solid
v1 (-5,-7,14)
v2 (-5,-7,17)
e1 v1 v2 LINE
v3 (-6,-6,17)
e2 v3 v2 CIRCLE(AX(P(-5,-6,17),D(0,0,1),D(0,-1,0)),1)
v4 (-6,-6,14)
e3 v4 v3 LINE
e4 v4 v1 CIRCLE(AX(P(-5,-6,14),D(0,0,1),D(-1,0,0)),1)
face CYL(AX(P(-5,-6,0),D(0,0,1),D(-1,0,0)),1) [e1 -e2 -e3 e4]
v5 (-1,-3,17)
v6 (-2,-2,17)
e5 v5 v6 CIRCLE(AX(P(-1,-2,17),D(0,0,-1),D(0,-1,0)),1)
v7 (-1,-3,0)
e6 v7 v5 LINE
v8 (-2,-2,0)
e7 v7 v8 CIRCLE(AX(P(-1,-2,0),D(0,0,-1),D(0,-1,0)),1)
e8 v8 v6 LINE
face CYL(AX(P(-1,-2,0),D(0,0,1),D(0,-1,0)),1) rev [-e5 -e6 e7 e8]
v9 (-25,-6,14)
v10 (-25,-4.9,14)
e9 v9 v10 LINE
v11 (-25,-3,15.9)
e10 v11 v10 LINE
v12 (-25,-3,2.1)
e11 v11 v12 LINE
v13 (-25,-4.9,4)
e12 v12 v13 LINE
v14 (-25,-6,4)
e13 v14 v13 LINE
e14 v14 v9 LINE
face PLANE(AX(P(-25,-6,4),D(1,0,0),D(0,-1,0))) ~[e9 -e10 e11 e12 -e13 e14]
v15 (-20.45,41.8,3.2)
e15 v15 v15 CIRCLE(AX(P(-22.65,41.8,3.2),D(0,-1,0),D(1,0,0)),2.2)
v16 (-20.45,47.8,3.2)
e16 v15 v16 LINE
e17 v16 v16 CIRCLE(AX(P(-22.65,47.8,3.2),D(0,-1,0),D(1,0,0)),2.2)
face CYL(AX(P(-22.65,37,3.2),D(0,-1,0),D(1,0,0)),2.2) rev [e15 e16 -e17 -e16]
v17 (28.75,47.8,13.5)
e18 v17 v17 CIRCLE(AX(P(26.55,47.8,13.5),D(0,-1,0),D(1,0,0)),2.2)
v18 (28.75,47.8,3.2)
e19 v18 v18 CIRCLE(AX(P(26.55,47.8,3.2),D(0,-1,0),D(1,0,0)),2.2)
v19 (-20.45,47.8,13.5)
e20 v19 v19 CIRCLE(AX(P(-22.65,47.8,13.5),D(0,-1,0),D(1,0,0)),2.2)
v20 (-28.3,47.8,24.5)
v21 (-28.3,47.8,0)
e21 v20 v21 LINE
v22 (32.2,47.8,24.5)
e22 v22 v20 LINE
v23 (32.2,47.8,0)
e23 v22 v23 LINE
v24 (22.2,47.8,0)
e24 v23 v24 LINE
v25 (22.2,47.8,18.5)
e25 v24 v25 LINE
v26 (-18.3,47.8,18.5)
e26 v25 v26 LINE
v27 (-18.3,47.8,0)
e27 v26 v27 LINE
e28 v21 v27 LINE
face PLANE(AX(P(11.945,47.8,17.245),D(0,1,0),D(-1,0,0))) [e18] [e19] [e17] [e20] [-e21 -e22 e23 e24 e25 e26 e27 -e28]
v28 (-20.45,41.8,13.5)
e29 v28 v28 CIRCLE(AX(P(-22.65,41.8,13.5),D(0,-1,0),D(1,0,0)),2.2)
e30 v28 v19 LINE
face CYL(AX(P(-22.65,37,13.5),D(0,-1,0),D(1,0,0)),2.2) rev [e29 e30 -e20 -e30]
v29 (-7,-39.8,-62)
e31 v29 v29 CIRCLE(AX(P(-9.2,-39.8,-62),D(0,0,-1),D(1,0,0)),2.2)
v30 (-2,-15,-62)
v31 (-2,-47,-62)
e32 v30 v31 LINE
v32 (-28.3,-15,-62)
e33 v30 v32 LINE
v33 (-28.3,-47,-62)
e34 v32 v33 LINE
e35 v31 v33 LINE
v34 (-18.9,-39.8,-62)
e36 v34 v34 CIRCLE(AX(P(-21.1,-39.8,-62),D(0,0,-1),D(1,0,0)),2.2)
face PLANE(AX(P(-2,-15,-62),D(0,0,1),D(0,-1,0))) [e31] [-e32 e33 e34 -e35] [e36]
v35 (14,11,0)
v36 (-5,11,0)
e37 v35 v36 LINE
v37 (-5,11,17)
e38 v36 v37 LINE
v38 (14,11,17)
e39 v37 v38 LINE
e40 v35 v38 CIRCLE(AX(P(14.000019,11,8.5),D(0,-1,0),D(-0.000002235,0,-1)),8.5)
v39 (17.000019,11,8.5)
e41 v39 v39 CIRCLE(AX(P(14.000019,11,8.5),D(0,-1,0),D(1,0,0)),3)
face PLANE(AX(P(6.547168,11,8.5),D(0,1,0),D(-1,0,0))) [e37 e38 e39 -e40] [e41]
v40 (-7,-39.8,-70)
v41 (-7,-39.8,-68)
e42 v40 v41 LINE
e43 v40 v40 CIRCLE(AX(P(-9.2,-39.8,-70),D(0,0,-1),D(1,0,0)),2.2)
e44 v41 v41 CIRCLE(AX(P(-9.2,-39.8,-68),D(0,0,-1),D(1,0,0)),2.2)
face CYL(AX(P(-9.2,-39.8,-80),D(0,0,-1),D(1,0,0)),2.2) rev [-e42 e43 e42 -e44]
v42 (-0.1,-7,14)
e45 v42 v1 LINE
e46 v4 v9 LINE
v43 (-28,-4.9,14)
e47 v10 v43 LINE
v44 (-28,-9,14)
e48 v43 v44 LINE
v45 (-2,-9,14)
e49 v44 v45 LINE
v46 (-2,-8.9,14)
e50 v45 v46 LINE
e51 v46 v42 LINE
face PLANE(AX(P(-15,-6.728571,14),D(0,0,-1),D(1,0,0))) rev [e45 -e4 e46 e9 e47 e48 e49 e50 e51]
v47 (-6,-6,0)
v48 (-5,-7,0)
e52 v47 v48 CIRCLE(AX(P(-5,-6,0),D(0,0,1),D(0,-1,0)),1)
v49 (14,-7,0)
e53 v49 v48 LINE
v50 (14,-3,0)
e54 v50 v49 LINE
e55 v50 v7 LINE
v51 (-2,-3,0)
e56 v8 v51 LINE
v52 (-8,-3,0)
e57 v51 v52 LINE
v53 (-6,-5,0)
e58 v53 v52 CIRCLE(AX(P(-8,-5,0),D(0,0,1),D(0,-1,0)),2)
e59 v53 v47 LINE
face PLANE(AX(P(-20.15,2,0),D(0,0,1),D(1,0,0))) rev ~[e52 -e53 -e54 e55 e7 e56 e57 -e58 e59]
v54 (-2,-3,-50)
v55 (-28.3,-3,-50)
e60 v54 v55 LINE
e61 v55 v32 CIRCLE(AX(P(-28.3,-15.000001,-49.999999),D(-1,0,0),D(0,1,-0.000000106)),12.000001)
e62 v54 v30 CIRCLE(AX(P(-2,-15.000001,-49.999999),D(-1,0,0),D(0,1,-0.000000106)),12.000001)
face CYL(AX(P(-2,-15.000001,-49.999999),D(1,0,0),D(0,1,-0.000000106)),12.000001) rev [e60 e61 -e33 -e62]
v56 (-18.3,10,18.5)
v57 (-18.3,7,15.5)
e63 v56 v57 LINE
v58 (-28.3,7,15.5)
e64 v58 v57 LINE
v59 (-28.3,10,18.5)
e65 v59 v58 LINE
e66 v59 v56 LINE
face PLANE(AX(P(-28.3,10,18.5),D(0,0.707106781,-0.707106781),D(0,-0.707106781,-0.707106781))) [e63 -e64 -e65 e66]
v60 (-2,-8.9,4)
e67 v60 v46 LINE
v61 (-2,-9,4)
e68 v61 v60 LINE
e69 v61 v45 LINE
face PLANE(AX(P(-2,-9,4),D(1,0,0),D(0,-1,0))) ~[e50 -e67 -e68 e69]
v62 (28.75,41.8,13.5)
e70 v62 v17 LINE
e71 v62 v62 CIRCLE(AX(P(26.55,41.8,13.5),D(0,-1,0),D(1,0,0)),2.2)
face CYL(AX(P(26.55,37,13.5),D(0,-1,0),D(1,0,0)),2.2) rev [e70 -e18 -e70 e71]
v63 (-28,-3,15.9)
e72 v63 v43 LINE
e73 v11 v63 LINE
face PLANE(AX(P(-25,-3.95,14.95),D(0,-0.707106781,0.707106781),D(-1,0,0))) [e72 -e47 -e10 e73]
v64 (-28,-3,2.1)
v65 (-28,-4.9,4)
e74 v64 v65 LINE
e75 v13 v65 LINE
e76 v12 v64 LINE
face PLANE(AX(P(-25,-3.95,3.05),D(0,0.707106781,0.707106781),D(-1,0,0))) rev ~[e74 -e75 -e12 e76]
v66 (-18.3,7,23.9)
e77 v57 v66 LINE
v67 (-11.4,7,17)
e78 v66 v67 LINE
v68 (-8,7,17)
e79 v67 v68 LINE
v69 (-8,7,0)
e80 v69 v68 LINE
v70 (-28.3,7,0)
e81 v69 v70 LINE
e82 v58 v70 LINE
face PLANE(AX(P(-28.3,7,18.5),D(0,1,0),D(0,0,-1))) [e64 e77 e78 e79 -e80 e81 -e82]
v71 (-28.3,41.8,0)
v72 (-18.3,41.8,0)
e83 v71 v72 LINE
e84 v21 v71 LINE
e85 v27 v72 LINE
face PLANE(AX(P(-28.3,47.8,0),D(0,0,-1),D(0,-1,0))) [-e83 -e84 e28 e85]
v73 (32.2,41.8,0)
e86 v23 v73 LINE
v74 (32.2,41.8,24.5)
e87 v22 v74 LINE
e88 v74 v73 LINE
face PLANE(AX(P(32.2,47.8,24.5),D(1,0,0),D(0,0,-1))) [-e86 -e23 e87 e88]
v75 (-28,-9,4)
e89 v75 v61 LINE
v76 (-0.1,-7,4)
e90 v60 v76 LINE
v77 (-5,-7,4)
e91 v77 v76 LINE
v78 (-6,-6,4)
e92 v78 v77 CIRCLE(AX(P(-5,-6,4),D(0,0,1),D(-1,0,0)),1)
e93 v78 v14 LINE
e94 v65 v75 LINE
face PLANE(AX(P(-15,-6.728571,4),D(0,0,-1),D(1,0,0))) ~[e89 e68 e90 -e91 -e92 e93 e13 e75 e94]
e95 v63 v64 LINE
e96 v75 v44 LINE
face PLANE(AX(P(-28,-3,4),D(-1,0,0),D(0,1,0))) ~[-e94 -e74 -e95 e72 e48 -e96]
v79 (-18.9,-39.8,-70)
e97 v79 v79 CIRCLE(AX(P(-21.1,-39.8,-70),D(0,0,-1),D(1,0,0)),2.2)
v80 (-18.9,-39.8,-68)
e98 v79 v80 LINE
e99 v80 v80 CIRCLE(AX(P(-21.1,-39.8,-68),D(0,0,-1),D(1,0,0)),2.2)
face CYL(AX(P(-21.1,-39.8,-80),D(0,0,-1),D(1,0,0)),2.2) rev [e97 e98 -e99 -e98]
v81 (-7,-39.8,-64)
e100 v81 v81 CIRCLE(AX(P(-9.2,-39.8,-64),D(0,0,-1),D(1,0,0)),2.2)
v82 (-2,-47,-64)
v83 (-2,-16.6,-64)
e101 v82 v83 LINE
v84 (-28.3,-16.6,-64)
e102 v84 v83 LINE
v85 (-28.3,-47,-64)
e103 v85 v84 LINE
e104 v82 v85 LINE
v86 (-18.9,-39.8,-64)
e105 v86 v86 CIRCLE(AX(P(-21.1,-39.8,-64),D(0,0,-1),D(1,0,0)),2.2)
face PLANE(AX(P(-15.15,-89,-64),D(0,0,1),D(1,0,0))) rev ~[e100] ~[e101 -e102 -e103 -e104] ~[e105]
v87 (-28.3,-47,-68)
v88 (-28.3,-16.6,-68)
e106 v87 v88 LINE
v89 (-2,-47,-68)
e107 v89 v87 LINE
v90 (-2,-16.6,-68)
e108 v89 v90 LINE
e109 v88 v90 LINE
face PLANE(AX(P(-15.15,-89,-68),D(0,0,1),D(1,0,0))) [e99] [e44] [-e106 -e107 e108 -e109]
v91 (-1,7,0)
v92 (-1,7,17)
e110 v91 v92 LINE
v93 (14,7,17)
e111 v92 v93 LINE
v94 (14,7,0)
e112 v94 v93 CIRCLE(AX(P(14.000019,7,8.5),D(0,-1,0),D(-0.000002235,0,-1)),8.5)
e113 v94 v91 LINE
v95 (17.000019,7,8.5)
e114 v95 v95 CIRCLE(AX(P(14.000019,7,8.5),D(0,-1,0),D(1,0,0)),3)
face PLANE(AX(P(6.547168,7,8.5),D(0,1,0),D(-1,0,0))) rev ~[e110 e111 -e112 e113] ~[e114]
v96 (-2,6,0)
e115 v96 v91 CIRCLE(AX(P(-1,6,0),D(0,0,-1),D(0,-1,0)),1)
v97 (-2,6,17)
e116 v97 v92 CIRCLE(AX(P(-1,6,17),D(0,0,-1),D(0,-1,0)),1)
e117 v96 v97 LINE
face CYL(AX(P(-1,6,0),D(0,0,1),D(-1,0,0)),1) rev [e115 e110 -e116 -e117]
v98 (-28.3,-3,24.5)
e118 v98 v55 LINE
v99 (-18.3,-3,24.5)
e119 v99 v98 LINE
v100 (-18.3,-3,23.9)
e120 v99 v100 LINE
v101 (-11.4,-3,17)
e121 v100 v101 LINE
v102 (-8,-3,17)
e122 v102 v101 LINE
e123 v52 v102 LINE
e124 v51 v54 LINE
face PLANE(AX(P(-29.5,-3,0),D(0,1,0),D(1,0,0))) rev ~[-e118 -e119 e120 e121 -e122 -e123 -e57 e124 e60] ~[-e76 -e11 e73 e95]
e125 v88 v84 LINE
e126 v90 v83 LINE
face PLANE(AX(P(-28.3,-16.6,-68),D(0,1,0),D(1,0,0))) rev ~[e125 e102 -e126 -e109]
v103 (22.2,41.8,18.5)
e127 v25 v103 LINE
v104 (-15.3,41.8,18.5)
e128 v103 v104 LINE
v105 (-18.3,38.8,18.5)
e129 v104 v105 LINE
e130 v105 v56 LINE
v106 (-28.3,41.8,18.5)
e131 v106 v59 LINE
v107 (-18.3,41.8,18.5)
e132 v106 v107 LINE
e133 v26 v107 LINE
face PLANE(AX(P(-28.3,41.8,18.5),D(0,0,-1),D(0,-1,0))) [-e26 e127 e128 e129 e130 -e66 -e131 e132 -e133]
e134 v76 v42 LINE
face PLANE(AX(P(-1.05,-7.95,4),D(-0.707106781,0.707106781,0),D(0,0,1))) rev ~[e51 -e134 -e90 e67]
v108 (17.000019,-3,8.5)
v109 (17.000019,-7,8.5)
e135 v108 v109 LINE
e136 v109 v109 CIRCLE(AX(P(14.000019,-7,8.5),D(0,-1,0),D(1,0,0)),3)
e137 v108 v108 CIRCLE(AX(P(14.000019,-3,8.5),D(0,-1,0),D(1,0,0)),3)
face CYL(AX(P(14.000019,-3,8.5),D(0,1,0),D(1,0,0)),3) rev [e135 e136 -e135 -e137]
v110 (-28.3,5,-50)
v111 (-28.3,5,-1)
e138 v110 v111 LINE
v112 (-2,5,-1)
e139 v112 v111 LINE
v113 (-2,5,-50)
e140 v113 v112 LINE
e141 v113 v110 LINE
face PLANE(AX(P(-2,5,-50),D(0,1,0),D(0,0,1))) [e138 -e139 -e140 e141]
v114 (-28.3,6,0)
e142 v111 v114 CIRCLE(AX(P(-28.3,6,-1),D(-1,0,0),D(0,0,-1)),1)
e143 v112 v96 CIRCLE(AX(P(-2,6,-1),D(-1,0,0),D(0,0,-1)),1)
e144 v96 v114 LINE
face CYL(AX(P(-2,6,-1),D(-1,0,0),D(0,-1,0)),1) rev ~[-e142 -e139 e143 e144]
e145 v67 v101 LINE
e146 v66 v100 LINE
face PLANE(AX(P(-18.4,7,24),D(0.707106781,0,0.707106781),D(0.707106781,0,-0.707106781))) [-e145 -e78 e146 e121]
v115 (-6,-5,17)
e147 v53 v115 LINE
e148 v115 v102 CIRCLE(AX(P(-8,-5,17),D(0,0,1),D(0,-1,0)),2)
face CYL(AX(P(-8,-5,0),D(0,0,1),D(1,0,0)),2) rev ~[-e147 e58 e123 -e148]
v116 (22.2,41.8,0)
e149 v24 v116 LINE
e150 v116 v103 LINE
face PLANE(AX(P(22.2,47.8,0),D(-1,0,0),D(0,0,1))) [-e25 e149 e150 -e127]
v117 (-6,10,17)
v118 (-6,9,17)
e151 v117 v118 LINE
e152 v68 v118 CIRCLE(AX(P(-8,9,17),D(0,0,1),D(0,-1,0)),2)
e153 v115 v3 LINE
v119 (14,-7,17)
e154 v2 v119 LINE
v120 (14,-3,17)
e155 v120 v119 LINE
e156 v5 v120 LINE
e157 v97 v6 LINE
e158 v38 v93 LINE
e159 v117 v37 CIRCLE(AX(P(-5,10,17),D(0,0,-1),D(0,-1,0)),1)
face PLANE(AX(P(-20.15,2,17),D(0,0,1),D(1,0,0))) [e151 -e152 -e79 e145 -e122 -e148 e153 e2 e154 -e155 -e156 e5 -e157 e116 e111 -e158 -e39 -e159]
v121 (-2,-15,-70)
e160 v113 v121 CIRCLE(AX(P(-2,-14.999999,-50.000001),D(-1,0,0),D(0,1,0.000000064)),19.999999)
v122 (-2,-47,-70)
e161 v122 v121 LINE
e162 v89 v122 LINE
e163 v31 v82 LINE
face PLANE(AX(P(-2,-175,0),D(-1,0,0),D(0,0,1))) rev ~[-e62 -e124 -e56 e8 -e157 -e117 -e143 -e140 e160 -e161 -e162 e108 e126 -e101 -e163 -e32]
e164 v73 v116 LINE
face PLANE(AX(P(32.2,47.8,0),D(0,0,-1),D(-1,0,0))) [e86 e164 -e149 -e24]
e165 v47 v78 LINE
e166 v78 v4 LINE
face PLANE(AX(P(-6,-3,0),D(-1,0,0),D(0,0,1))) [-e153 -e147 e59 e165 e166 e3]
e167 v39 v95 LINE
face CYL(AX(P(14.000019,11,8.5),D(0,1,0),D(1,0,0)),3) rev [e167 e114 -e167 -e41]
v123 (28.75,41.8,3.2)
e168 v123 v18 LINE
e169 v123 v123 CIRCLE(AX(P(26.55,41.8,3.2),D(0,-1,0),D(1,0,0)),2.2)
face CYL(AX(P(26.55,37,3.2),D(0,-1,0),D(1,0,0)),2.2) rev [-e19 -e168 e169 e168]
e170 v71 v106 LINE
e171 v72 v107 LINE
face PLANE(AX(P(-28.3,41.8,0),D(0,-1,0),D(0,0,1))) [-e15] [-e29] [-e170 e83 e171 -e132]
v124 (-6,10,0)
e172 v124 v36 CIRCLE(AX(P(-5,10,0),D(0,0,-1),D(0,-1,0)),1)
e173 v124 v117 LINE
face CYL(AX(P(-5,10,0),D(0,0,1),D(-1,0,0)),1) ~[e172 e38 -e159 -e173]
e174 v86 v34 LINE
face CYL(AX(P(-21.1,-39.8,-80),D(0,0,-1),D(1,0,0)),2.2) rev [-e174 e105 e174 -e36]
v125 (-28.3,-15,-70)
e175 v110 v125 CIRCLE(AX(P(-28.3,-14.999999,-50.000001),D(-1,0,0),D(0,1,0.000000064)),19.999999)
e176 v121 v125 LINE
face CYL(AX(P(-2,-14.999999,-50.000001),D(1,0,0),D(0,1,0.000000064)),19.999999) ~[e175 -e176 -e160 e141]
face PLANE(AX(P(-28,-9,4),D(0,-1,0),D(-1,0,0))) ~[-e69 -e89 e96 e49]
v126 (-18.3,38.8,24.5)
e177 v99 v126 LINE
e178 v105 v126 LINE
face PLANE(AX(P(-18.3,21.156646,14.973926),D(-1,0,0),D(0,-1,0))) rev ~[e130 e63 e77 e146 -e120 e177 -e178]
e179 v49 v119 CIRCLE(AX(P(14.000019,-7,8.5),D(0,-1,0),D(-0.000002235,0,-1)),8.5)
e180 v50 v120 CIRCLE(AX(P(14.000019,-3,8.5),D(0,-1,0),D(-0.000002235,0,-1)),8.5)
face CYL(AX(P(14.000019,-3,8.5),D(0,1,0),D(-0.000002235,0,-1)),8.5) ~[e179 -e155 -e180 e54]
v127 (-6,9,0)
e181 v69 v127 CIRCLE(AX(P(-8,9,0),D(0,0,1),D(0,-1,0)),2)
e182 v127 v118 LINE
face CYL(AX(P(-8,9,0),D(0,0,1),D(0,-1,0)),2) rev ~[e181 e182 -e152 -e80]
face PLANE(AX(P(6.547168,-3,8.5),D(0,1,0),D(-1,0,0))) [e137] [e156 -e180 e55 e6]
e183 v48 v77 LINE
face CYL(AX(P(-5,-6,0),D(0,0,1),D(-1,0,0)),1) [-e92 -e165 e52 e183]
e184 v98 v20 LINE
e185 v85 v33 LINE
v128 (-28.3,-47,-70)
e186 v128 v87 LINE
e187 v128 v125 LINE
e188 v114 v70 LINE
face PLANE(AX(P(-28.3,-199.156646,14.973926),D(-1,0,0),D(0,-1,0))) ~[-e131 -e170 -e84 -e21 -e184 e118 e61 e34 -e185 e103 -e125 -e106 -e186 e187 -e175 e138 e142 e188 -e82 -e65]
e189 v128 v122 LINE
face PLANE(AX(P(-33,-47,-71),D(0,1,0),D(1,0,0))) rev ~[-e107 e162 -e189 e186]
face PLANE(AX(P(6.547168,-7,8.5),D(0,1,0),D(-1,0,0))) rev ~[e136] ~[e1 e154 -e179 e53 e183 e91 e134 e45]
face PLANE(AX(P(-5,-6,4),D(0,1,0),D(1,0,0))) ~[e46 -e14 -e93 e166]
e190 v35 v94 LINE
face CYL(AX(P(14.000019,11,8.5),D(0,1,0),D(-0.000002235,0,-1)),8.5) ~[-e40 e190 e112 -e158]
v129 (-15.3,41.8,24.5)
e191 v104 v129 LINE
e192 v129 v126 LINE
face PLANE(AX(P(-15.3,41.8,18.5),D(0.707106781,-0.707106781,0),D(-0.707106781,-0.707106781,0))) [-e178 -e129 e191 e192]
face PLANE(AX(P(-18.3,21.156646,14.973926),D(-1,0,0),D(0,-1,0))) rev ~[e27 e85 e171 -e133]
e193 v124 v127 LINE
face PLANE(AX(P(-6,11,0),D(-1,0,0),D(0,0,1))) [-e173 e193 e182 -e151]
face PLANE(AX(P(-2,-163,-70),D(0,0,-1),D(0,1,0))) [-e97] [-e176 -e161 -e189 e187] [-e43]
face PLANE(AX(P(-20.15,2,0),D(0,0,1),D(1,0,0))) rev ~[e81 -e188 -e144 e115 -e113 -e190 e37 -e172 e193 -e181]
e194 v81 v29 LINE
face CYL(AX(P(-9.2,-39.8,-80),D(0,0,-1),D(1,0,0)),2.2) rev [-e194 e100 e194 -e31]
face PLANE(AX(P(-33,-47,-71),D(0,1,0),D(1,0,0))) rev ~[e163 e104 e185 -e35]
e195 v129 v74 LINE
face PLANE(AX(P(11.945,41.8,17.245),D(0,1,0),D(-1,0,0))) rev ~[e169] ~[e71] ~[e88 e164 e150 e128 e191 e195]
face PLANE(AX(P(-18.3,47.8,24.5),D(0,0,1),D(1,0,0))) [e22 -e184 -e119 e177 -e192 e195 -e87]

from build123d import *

# Parameters (mm, degrees)
CYLINDER034_R          = 2.2
CYLINDER034_DEPTH      = 26
ARRAY008_X_COUNT       = 2
ARRAY008_X_PITCH       = 11.9
BOX039_W               = 26.3
BOX039_H               = 84
BOX039_DEPTH           = 8
BOX038_W               = 26.3
BOX038_H               = 144.8
BOX038_DEPTH           = 4
PAD047_DEPTH           = 10
PAD048_DEPTH           = 6
BOX037_W               = 80
BOX037_H               = 100
BOX037_DEPTH           = 100
BOX036_W               = 40
BOX036_H               = 84
BOX036_DEPTH           = 10
PAD033_DEPTH           = 10
PAD032_DEPTH           = 10
BOX026_W               = 12
BOX026_H               = 10
BOX026_DEPTH           = 30
CYLINDER020_R          = 2.2
CYLINDER020_DEPTH      = 18
CYLINDER020_ROLL_ANGLE = -90
ARRAY006_X_COUNT       = 2
ARRAY006_X_PITCH       = 49.2
ARRAY006_Z_COUNT       = 2
ARRAY006_Z_PITCH       = 10.3
PAD021_DEPTH           = 6
PAD020_DEPTH           = 10
BOX027_W               = 12
BOX027_H               = 10
BOX027_DEPTH           = 30
CYLINDER021_R          = 2.2
CYLINDER021_DEPTH      = 18
CYLINDER021_ROLL_ANGLE = -90
ARRAY007_X_COUNT       = 2
ARRAY007_X_PITCH       = 49.2
ARRAY007_Z_COUNT       = 2
ARRAY007_Z_PITCH       = 10.3
PAD023_DEPTH           = 6
PAD022_DEPTH           = 10
BOX025_W               = 16.3
BOX025_H               = 10
BOX025_DEPTH           = 17
SKETCH018_R            = 3
PAD018_DEPTH           = 4
SKETCH019_R            = 3
PAD019_DEPTH           = 4
BOX024_W               = 20
BOX024_H               = 17
BOX024_DEPTH           = 10
FILLET007_R            = 1
FILLET007_ROLL_ANGLE   = 90
FILLET008_1_R          = 2
FILLET008_2_R          = 1
BOX018_W               = 16.3
BOX018_H               = 10
BOX018_DEPTH           = 17
SKETCH010_R            = 3
PAD010_DEPTH           = 4
SKETCH011_R            = 3
PAD011_DEPTH           = 4
BOX016_W               = 20
BOX016_H               = 17
BOX016_DEPTH           = 10
FILLET005_R            = 1
FILLET005_ROLL_ANGLE   = 90
FILLET006_1_R          = 2
FILLET006_2_R          = 1
PAD009_DEPTH           = 26.3
CHAMFER005_SIZE        = 1.9
FILLET016_1_R          = 1.5
FILLET016_2_R          = 1
PAD046_DEPTH           = 10


with BuildPart() as taladros_cadera:
    # Cylinder034 → Cylinder034 (new body)
    with BuildSketch(Plane(origin=(-9.2, -39.8, -80), x_dir=(1, 0, 0), z_dir=(0, 0, 1))):
        Circle(CYLINDER034_R)
    extrude(amount=CYLINDER034_DEPTH)

    # Array008 X: Taladros_cadera ×2


with BuildPart() as taladros_cadera_1:
    add(taladros_cadera.part)
    with Locations(*[(-i * ARRAY008_X_PITCH, 0, 0) for i in range(1, ARRAY008_X_COUNT)]):
        add(taladros_cadera.part)


with BuildPart() as cadera_base_centro:
    # Box039 → Box039 (new body)
    with BuildSketch(Plane(origin=(-28.3, -133, -70), x_dir=(1, 0, 0), z_dir=(0, 0, 1))):
        with Locations((13.15, 42)):
            Rectangle(BOX039_W, BOX039_H)
    extrude(amount=BOX039_DEPTH)


with BuildPart() as cadera_centro:
    # Box038 → Box038 (new body)
    with BuildSketch(Plane(origin=(-28.3, -163.4, -68), x_dir=(1, 0, 0), z_dir=(0, 0, 1))):
        with Locations((13.15, 72.4)):
            Rectangle(BOX038_W, BOX038_H)
    extrude(amount=BOX038_DEPTH)

    # Fusion009003043: union Cadera_base_centro
    add(cadera_base_centro.part)


with BuildPart() as cadera_centro_1:
    # Fusion009003043 placement: moved
    add(cadera_centro.part.moved(Location((0, 2, 0))))


with BuildPart() as refuerzo6:
    # Sketch047 → Pad047 (new body)
    with BuildSketch(Plane(origin=(-28.3, 7, 18.5), x_dir=(0, 0, -1), z_dir=(1, 0, 0))):
        Polygon((0, 0), (0, 3), (3, 0), align=None)
    extrude(amount=PAD047_DEPTH)


with BuildPart() as refuerzo7:
    # Sketch048 → Pad048 (new body)
    with BuildSketch(Plane(origin=(-18.3, 41.8, 18.5), x_dir=(0, -1, 0), z_dir=(0, 0, 1))):
        Polygon((0, 0), (0, 3), (3, 0), align=None)
    extrude(amount=PAD048_DEPTH)


with BuildPart() as cortar_extremo_cadera:
    # Box037 → Box037 (new body)
    with BuildSketch(Plane(origin=(-40, -229, -71), x_dir=(1, 0, 0), z_dir=(0, 0, 1))):
        with Locations((40, 50)):
            Rectangle(BOX037_W, BOX037_H)
    extrude(amount=BOX037_DEPTH)


with BuildPart() as corte_cadera:
    # Box036 → Box036 (new body)
    with BuildSketch(Plane(origin=(-33, -131, -71), x_dir=(1, 0, 0), z_dir=(0, 0, 1))):
        with Locations((20, 42)):
            Rectangle(BOX036_W, BOX036_H)
    extrude(amount=BOX036_DEPTH)


with BuildPart() as suje_cadera1:
    # Sketch033 → Pad033 (new body)
    with BuildSketch(Plane(origin=(-28, -127, 4), x_dir=(1, 0, 0), z_dir=(0, 0, 1))):
        Polygon((0, 0), (0, 6), (26, 6), (26, 0), (23, 0), (23, 3), (3, 3), (3, 0), align=None)
    extrude(amount=PAD033_DEPTH)


with BuildPart() as suje_cadera1_mirror:
    # Part__Mirroring009: instance of suje_cadera1
    add(suje_cadera1.part.mirror(Plane(origin=(0, 0, 0), x_dir=(1, 0, 0), z_dir=(0, 1, 0))))


with BuildPart() as suje_cadera1_mirror_1:
    # Part__Mirroring009 placement: moved
    add(suje_cadera1_mirror.part.moved(Location((0, -130, 0))))


with BuildPart() as sujetadores_cadera:
    # Sketch032 → Pad032 (new body)
    with BuildSketch(Plane(origin=(-28, -175, 4), x_dir=(1, 0, 0), z_dir=(0, 0, 1))):
        Polygon((0, 0), (0, 6), (26, 6), (26, 0), (23, 0), (23, 3), (3, 3), (3, 0), align=None)
    extrude(amount=PAD032_DEPTH)

    # Fusion009003040: union suje_cadera1_Mirror
    add(suje_cadera1_mirror_1.part)


with BuildPart() as resta_sujetador_cadera:
    # Box026 → Box026 (new body)
    with BuildSketch(Plane(origin=(-29.5, -13, 0), x_dir=(1, 0, 0), z_dir=(0, 0, 1))):
        with Locations((6, 5)):
            Rectangle(BOX026_W, BOX026_H)
    extrude(amount=BOX026_DEPTH)


with BuildPart() as taladros_suje_motor001:
    # Cylinder020 → Cylinder020 (new body)
    with BuildSketch(Plane.XY):
        Circle(CYLINDER020_R)
    extrude(amount=CYLINDER020_DEPTH)


with BuildPart() as taladros_suje_motor001_1:
    # Cylinder020 roll: moved
    add(taladros_suje_motor001.part.rotate(Axis((0, 0, 0), (1, 0, 0)), CYLINDER020_ROLL_ANGLE))


with BuildPart() as taladros_suje_motor001_2:
    # Cylinder020 placement: moved
    add(taladros_suje_motor001_1.part.moved(Location((150.075, 41, 13.5))))

    # Array006 X: Taladros_suje_motor001 ×2


with BuildPart() as taladros_suje_motor001_3:
    add(taladros_suje_motor001_2.part)
    with Locations(*[(i * ARRAY006_X_PITCH, 0, 0) for i in range(1, ARRAY006_X_COUNT)]):
        add(taladros_suje_motor001_2.part)

    # Array006 Z: Taladros_suje_motor001 ×2


with BuildPart() as taladros_suje_motor001_4:
    add(taladros_suje_motor001_3.part)
    with Locations(*[(0, 0, -i * ARRAY006_Z_PITCH) for i in range(1, ARRAY006_Z_COUNT)]):
        add(taladros_suje_motor001_3.part)


with BuildPart() as suje_motor004:
    # Sketch021 → Pad021 (new body)
    with BuildSketch(Plane(origin=(10, 54.8, 0), x_dir=(1, 0, 0), z_dir=(0, -1, 0))):
        Polygon((0, 18.5), (0, 24.5), (50.5, 24.5), (50.5, 0), (40.5, 0), (40.5, 18.5), align=None)
    extrude(amount=PAD021_DEPTH)


with BuildPart() as sujetador_cadera_full1:
    # Sketch020 → Pad020 (new body)
    with BuildSketch(Plane.YZ):
        Polygon((14, 0), (0, 0), (0, 24.5), (54.8, 24.5), (54.8, 0), (48.8, 0), (48.8, 18.5), (14, 18.5), align=None)
    extrude(amount=PAD020_DEPTH)

    # Fusion009003025: union Suje_motor004
    add(suje_motor004.part)


with BuildPart() as sujetador_cadera_full1_1:
    # Fusion009003025 placement: moved
    add(sujetador_cadera_full1.part.moved(Location((144.425, -3, 0))))

    # Cut016: cut Taladros_suje_motor001
    add(taladros_suje_motor001_4.part, mode=Mode.SUBTRACT)


with BuildPart() as sujetador_cadera_full1_2:
    # Cut016 placement: moved
    add(sujetador_cadera_full1_1.part.moved(Location((-172.725, -4, 0))))

    # Cut017: cut Resta_sujetador_cadera
    add(resta_sujetador_cadera.part, mode=Mode.SUBTRACT)


with BuildPart() as resta_sujetador_cadera001:
    # Box027 → Box027 (new body)
    with BuildSketch(Plane(origin=(-29.5, -13, 0), x_dir=(1, 0, 0), z_dir=(0, 0, 1))):
        with Locations((6, 5)):
            Rectangle(BOX027_W, BOX027_H)
    extrude(amount=BOX027_DEPTH)


with BuildPart() as taladros_suje_motor002:
    # Cylinder021 → Cylinder021 (new body)
    with BuildSketch(Plane.XY):
        Circle(CYLINDER021_R)
    extrude(amount=CYLINDER021_DEPTH)


with BuildPart() as taladros_suje_motor002_1:
    # Cylinder021 roll: moved
    add(taladros_suje_motor002.part.rotate(Axis((0, 0, 0), (1, 0, 0)), CYLINDER021_ROLL_ANGLE))


with BuildPart() as taladros_suje_motor002_2:
    # Cylinder021 placement: moved
    add(taladros_suje_motor002_1.part.moved(Location((150.075, 41, 13.5))))

    # Array007 X: Taladros_suje_motor002 ×2


with BuildPart() as taladros_suje_motor002_3:
    add(taladros_suje_motor002_2.part)
    with Locations(*[(i * ARRAY007_X_PITCH, 0, 0) for i in range(1, ARRAY007_X_COUNT)]):
        add(taladros_suje_motor002_2.part)

    # Array007 Z: Taladros_suje_motor002 ×2


with BuildPart() as taladros_suje_motor002_4:
    add(taladros_suje_motor002_3.part)
    with Locations(*[(0, 0, -i * ARRAY007_Z_PITCH) for i in range(1, ARRAY007_Z_COUNT)]):
        add(taladros_suje_motor002_3.part)


with BuildPart() as suje_motor007:
    # Sketch023 → Pad023 (new body)
    with BuildSketch(Plane(origin=(10, 54.8, 0), x_dir=(1, 0, 0), z_dir=(0, -1, 0))):
        Polygon((0, 18.5), (0, 24.5), (50.5, 24.5), (50.5, 0), (40.5, 0), (40.5, 18.5), align=None)
    extrude(amount=PAD023_DEPTH)


with BuildPart() as sujetador_cadera_full2:
    # Sketch022 → Pad022 (new body)
    with BuildSketch(Plane.YZ):
        Polygon((14, 0), (0, 0), (0, 24.5), (54.8, 24.5), (54.8, 0), (48.8, 0), (48.8, 18.5), (14, 18.5), align=None)
    extrude(amount=PAD022_DEPTH)

    # Fusion009003026: union Suje_motor007
    add(suje_motor007.part)


with BuildPart() as sujetador_cadera_full2_1:
    # Fusion009003026 placement: moved
    add(sujetador_cadera_full2.part.moved(Location((144.425, -3, 0))))

    # Cut018: cut Taladros_suje_motor002
    add(taladros_suje_motor002_4.part, mode=Mode.SUBTRACT)


with BuildPart() as sujetador_cadera_full2_2:
    # Cut018 placement: moved
    add(sujetador_cadera_full2_1.part.moved(Location((-172.725, -4, 0))))

    # Cut019: cut Resta_sujetador_cadera001
    add(resta_sujetador_cadera001.part, mode=Mode.SUBTRACT)


with BuildPart() as sujetador_cadera_full_mirror:
    # Part__Mirroring: instance of Sujetador_cadera_full2
    add(sujetador_cadera_full2_2.part.mirror(Plane(origin=(0, 0, 0), x_dir=(1, 0, 0), z_dir=(0, 1, 0))))


with BuildPart() as sujetador_cadera_full_mirror_1:
    # Part__Mirroring placement: moved
    add(sujetador_cadera_full_mirror.part.moved(Location((0, -178, 0))))


with BuildPart() as cubo_externo001:
    # Box025 → Box025 (new body)
    with BuildSketch(Plane(origin=(-26.3, -8, 0), x_dir=(1, 0, 0), z_dir=(0, 0, 1))):
        with Locations((8.15, 5)):
            Rectangle(BOX025_W, BOX025_H)
    extrude(amount=BOX025_DEPTH)


with BuildPart() as ciculo_gancho005:
    # Sketch018 → Pad018 (new body)
    with BuildSketch(Plane.XY):
        with BuildLine():
            Line((0, 17), (20, 17))
            ThreePointArc((20, 0), (28.500019, 8.5), (20, 17))
            Line((20, 0), (0, 0))
            Line((0, 0), (0, 17))
        make_face()
        with Locations((20.000019, 8.5)):
            Circle(SKETCH018_R, mode=Mode.SUBTRACT)
    extrude(amount=PAD018_DEPTH)


with BuildPart() as ciculo_gancho006:
    # Sketch019 → Pad019 (new body)
    with BuildSketch(Plane.XY.offset(14)):
        with BuildLine():
            Line((0, 17), (20, 17))
            ThreePointArc((20, 0), (28.500019, 8.5), (20, 17))
            Line((20, 0), (0, 0))
            Line((0, 0), (0, 17))
        make_face()
        with Locations((20.000019, 8.5)):
            Circle(SKETCH019_R, mode=Mode.SUBTRACT)
    extrude(amount=PAD019_DEPTH)


with BuildPart() as gancho_cadera1:
    # Box024 → Box024 (new body)
    with BuildSketch(Plane(origin=(-16, 0, 4), x_dir=(1, 0, 0), z_dir=(0, 0, 1))):
        with Locations((10, 8.5)):
            Rectangle(BOX024_W, BOX024_H)
    extrude(amount=BOX024_DEPTH)

    # Fusion009003021: union Ciculo_gancho005, Ciculo_gancho006
    add(ciculo_gancho005.part)
    add(ciculo_gancho006.part)

    # Fillet007
    fillet007_edges = [gancho_cadera1.edges().sort_by_distance(p)[0] for p in [
        (0, 8.5, 18),
        (-16, 0, 9),
        (-16, 17, 9),
        (0, 8.5, 0),
    ]]
    fillet(fillet007_edges, radius=FILLET007_R)


with BuildPart() as gancho_cadera1_1:
    # Fillet007 roll: moved
    add(gancho_cadera1.part.rotate(Axis((0, 0, 0), (1, 0, 0)), FILLET007_ROLL_ANGLE))


with BuildPart() as gancho_cadera1_2:
    # Fillet007 placement: moved
    add(gancho_cadera1_1.part.moved(Location((16, 15, 0))))

    # Fillet008 1
    fillet008_1_edges = [gancho_cadera1_2.edges().sort_by_distance(p)[0] for p in [
        (16, 1, 8.5),
        (16, 11, 8.5),
    ]]
    fillet(fillet008_1_edges, radius=FILLET008_1_R)

    # Fillet008 2
    fillet008_2_edges = [gancho_cadera1_2.edges().sort_by_distance(p)[0] for p in [
        (20, 1, 8.5),
        (20, 11, 8.5),
    ]]
    fillet(fillet008_2_edges, radius=FILLET008_2_R)


with BuildPart() as gancho_cadera1_3:
    # Fillet008 placement: moved
    add(gancho_cadera1_2.part.moved(Location((-20, -9, 0))))

    # Fusion009003022: union Cubo_externo001
    add(cubo_externo001.part)


with BuildPart() as gancho_cadera1_4:
    # Fusion009003022 placement: moved
    add(gancho_cadera1_3.part.moved(Location((0, -182, 0))))


with BuildPart() as cubo_externo:
    # Box018 → Box018 (new body)
    with BuildSketch(Plane(origin=(-26.3, -8, 0), x_dir=(1, 0, 0), z_dir=(0, 0, 1))):
        with Locations((8.15, 5)):
            Rectangle(BOX018_W, BOX018_H)
    extrude(amount=BOX018_DEPTH)


with BuildPart() as ciculo_gancho003:
    # Sketch010 → Pad010 (new body)
    with BuildSketch(Plane.XY):
        with BuildLine():
            Line((0, 17), (20, 17))
            ThreePointArc((20, 0), (28.500019, 8.5), (20, 17))
            Line((20, 0), (0, 0))
            Line((0, 0), (0, 17))
        make_face()
        with Locations((20.000019, 8.5)):
            Circle(SKETCH010_R, mode=Mode.SUBTRACT)
    extrude(amount=PAD010_DEPTH)


with BuildPart() as ciculo_gancho004:
    # Sketch011 → Pad011 (new body)
    with BuildSketch(Plane.XY.offset(14)):
        with BuildLine():
            Line((0, 17), (20, 17))
            ThreePointArc((20, 0), (28.500019, 8.5), (20, 17))
            Line((20, 0), (0, 0))
            Line((0, 0), (0, 17))
        make_face()
        with Locations((20.000019, 8.5)):
            Circle(SKETCH011_R, mode=Mode.SUBTRACT)
    extrude(amount=PAD011_DEPTH)


with BuildPart() as ganchos_cadera:
    # Box016 → Box016 (new body)
    with BuildSketch(Plane(origin=(-16, 0, 4), x_dir=(1, 0, 0), z_dir=(0, 0, 1))):
        with Locations((10, 8.5)):
            Rectangle(BOX016_W, BOX016_H)
    extrude(amount=BOX016_DEPTH)

    # Fusion009003009: union Ciculo_gancho003, Ciculo_gancho004
    add(ciculo_gancho003.part)
    add(ciculo_gancho004.part)

    # Fillet005
    fillet005_edges = [ganchos_cadera.edges().sort_by_distance(p)[0] for p in [
        (0, 8.5, 18),
        (-16, 0, 9),
        (-16, 17, 9),
        (0, 8.5, 0),
    ]]
    fillet(fillet005_edges, radius=FILLET005_R)


with BuildPart() as ganchos_cadera_1:
    # Fillet005 roll: moved
    add(ganchos_cadera.part.rotate(Axis((0, 0, 0), (1, 0, 0)), FILLET005_ROLL_ANGLE))


with BuildPart() as ganchos_cadera_2:
    # Fillet005 placement: moved
    add(ganchos_cadera_1.part.moved(Location((16, 15, 0))))

    # Fillet006 1
    fillet006_1_edges = [ganchos_cadera_2.edges().sort_by_distance(p)[0] for p in [
        (16, 1, 8.5),
        (16, 11, 8.5),
    ]]
    fillet(fillet006_1_edges, radius=FILLET006_1_R)

    # Fillet006 2
    fillet006_2_edges = [ganchos_cadera_2.edges().sort_by_distance(p)[0] for p in [
        (20, 1, 8.5),
        (20, 11, 8.5),
    ]]
    fillet(fillet006_2_edges, radius=FILLET006_2_R)


with BuildPart() as ganchos_cadera_3:
    # Fillet006 placement: moved
    add(ganchos_cadera_2.part.moved(Location((-20, -9, 0))))

    # Fusion009003020: union Cubo_externo
    add(cubo_externo.part)

    # Fusion009003023: union Gancho_cadera1
    add(gancho_cadera1_4.part)


with BuildPart() as cadera_extremo_izquierdo_base:
    # Sketch009 → Pad009 (new body)
    with BuildSketch(Plane(origin=(0, 0, 0), x_dir=(0, 1, 0), z_dir=(-1, 0, 0))):
        with BuildLine():
            Line((-188, 0), (-188, 50))
            ThreePointArc((-168, 70), (-182.142136, 64.142136), (-188, 50))
            Line((-168, 70), (-20, 70))
            ThreePointArc((0, 50), (-5.857864, 64.142136), (-20, 70))
            Line((0, 50), (0, 0))
            Line((0, 0), (-8, 0))
            Line((-8, 0), (-8, 50))
            ThreePointArc((-8, 50), (-11.514719, 58.485281), (-20, 62))
            Line((-20, 62), (-168, 62))
            ThreePointArc((-168, 62), (-176.485281, 58.485281), (-180, 50))
            Line((-180, 50), (-180, 0))
            Line((-180, 0), (-188, 0))
        make_face()
    extrude(amount=PAD009_DEPTH)

    # Fusion009003024: union Ganchos_cadera
    add(ganchos_cadera_3.part)


with BuildPart() as cadera_extremo_izquierdo_base_1:
    # Fusion009003024 placement: moved
    add(cadera_extremo_izquierdo_base.part.moved(Location((-2, 5, 0))))

    # Fusion009003027: union Sujetador_cadera_full1, Sujetador_cadera_full Mirror
    add(sujetador_cadera_full1_2.part)
    add(sujetador_cadera_full_mirror_1.part)

    # Fusion009003041: union Sujetadores_cadera
    add(sujetadores_cadera.part)

    # Chamfer005
    chamfer005_edges = [cadera_extremo_izquierdo_base_1.edges().sort_by_distance(p)[0] for p in [
        (-2, -7, 9),
        (-26.5, -3, 14),
        (-26.5, -3, 4),
        (-26.5, -175, 14),
        (-26.5, -175, 4),
        (-2, -171, 9),
    ]]
    chamfer(chamfer005_edges, length=CHAMFER005_SIZE)

    # Fillet016 1
    fillet016_1_edges = [cadera_extremo_izquierdo_base_1.edges().sort_by_distance(p)[0] for p in [
        (-18.3, 2, 17),
        (-18.3, -180, 17),
    ]]
    fillet(fillet016_1_edges, radius=FILLET016_1_R)

    # Fillet016 2
    fillet016_2_edges = [cadera_extremo_izquierdo_base_1.edges().sort_by_distance(p)[0] for p in [
        (-15.15, 5, 0),
        (-15.15, -183, 0),
    ]]
    fillet(fillet016_2_edges, radius=FILLET016_2_R)

    # Cut031: cut Corte_cadera
    add(corte_cadera.part, mode=Mode.SUBTRACT)

    # Cut032: cut Cortar_extremo_cadera
    add(cortar_extremo_cadera.part, mode=Mode.SUBTRACT)


with BuildPart() as cadera_izquierda_full:
    # Sketch046 → Pad046 (new body)
    with BuildSketch(Plane(origin=(-18.4, 7, 17), x_dir=(1, 0, 0), z_dir=(0, -1, 0))):
        Polygon((0, 0), (0, 7), (7, 0), align=None)
    extrude(amount=PAD046_DEPTH)

    # Fusion009003046: union Refuerzo6, Refuerzo7, Cadera_extremo_izquierdo_base
    add(refuerzo6.part)
    add(refuerzo7.part)
    add(cadera_extremo_izquierdo_base_1.part)

    # Cut033: cut Cadera_centro
    add(cadera_centro_1.part, mode=Mode.SUBTRACT)

    # Cut034: cut Taladros_cadera
    add(taladros_cadera_1.part, mode=Mode.SUBTRACT)


solid = cadera_izquierda_full.part
